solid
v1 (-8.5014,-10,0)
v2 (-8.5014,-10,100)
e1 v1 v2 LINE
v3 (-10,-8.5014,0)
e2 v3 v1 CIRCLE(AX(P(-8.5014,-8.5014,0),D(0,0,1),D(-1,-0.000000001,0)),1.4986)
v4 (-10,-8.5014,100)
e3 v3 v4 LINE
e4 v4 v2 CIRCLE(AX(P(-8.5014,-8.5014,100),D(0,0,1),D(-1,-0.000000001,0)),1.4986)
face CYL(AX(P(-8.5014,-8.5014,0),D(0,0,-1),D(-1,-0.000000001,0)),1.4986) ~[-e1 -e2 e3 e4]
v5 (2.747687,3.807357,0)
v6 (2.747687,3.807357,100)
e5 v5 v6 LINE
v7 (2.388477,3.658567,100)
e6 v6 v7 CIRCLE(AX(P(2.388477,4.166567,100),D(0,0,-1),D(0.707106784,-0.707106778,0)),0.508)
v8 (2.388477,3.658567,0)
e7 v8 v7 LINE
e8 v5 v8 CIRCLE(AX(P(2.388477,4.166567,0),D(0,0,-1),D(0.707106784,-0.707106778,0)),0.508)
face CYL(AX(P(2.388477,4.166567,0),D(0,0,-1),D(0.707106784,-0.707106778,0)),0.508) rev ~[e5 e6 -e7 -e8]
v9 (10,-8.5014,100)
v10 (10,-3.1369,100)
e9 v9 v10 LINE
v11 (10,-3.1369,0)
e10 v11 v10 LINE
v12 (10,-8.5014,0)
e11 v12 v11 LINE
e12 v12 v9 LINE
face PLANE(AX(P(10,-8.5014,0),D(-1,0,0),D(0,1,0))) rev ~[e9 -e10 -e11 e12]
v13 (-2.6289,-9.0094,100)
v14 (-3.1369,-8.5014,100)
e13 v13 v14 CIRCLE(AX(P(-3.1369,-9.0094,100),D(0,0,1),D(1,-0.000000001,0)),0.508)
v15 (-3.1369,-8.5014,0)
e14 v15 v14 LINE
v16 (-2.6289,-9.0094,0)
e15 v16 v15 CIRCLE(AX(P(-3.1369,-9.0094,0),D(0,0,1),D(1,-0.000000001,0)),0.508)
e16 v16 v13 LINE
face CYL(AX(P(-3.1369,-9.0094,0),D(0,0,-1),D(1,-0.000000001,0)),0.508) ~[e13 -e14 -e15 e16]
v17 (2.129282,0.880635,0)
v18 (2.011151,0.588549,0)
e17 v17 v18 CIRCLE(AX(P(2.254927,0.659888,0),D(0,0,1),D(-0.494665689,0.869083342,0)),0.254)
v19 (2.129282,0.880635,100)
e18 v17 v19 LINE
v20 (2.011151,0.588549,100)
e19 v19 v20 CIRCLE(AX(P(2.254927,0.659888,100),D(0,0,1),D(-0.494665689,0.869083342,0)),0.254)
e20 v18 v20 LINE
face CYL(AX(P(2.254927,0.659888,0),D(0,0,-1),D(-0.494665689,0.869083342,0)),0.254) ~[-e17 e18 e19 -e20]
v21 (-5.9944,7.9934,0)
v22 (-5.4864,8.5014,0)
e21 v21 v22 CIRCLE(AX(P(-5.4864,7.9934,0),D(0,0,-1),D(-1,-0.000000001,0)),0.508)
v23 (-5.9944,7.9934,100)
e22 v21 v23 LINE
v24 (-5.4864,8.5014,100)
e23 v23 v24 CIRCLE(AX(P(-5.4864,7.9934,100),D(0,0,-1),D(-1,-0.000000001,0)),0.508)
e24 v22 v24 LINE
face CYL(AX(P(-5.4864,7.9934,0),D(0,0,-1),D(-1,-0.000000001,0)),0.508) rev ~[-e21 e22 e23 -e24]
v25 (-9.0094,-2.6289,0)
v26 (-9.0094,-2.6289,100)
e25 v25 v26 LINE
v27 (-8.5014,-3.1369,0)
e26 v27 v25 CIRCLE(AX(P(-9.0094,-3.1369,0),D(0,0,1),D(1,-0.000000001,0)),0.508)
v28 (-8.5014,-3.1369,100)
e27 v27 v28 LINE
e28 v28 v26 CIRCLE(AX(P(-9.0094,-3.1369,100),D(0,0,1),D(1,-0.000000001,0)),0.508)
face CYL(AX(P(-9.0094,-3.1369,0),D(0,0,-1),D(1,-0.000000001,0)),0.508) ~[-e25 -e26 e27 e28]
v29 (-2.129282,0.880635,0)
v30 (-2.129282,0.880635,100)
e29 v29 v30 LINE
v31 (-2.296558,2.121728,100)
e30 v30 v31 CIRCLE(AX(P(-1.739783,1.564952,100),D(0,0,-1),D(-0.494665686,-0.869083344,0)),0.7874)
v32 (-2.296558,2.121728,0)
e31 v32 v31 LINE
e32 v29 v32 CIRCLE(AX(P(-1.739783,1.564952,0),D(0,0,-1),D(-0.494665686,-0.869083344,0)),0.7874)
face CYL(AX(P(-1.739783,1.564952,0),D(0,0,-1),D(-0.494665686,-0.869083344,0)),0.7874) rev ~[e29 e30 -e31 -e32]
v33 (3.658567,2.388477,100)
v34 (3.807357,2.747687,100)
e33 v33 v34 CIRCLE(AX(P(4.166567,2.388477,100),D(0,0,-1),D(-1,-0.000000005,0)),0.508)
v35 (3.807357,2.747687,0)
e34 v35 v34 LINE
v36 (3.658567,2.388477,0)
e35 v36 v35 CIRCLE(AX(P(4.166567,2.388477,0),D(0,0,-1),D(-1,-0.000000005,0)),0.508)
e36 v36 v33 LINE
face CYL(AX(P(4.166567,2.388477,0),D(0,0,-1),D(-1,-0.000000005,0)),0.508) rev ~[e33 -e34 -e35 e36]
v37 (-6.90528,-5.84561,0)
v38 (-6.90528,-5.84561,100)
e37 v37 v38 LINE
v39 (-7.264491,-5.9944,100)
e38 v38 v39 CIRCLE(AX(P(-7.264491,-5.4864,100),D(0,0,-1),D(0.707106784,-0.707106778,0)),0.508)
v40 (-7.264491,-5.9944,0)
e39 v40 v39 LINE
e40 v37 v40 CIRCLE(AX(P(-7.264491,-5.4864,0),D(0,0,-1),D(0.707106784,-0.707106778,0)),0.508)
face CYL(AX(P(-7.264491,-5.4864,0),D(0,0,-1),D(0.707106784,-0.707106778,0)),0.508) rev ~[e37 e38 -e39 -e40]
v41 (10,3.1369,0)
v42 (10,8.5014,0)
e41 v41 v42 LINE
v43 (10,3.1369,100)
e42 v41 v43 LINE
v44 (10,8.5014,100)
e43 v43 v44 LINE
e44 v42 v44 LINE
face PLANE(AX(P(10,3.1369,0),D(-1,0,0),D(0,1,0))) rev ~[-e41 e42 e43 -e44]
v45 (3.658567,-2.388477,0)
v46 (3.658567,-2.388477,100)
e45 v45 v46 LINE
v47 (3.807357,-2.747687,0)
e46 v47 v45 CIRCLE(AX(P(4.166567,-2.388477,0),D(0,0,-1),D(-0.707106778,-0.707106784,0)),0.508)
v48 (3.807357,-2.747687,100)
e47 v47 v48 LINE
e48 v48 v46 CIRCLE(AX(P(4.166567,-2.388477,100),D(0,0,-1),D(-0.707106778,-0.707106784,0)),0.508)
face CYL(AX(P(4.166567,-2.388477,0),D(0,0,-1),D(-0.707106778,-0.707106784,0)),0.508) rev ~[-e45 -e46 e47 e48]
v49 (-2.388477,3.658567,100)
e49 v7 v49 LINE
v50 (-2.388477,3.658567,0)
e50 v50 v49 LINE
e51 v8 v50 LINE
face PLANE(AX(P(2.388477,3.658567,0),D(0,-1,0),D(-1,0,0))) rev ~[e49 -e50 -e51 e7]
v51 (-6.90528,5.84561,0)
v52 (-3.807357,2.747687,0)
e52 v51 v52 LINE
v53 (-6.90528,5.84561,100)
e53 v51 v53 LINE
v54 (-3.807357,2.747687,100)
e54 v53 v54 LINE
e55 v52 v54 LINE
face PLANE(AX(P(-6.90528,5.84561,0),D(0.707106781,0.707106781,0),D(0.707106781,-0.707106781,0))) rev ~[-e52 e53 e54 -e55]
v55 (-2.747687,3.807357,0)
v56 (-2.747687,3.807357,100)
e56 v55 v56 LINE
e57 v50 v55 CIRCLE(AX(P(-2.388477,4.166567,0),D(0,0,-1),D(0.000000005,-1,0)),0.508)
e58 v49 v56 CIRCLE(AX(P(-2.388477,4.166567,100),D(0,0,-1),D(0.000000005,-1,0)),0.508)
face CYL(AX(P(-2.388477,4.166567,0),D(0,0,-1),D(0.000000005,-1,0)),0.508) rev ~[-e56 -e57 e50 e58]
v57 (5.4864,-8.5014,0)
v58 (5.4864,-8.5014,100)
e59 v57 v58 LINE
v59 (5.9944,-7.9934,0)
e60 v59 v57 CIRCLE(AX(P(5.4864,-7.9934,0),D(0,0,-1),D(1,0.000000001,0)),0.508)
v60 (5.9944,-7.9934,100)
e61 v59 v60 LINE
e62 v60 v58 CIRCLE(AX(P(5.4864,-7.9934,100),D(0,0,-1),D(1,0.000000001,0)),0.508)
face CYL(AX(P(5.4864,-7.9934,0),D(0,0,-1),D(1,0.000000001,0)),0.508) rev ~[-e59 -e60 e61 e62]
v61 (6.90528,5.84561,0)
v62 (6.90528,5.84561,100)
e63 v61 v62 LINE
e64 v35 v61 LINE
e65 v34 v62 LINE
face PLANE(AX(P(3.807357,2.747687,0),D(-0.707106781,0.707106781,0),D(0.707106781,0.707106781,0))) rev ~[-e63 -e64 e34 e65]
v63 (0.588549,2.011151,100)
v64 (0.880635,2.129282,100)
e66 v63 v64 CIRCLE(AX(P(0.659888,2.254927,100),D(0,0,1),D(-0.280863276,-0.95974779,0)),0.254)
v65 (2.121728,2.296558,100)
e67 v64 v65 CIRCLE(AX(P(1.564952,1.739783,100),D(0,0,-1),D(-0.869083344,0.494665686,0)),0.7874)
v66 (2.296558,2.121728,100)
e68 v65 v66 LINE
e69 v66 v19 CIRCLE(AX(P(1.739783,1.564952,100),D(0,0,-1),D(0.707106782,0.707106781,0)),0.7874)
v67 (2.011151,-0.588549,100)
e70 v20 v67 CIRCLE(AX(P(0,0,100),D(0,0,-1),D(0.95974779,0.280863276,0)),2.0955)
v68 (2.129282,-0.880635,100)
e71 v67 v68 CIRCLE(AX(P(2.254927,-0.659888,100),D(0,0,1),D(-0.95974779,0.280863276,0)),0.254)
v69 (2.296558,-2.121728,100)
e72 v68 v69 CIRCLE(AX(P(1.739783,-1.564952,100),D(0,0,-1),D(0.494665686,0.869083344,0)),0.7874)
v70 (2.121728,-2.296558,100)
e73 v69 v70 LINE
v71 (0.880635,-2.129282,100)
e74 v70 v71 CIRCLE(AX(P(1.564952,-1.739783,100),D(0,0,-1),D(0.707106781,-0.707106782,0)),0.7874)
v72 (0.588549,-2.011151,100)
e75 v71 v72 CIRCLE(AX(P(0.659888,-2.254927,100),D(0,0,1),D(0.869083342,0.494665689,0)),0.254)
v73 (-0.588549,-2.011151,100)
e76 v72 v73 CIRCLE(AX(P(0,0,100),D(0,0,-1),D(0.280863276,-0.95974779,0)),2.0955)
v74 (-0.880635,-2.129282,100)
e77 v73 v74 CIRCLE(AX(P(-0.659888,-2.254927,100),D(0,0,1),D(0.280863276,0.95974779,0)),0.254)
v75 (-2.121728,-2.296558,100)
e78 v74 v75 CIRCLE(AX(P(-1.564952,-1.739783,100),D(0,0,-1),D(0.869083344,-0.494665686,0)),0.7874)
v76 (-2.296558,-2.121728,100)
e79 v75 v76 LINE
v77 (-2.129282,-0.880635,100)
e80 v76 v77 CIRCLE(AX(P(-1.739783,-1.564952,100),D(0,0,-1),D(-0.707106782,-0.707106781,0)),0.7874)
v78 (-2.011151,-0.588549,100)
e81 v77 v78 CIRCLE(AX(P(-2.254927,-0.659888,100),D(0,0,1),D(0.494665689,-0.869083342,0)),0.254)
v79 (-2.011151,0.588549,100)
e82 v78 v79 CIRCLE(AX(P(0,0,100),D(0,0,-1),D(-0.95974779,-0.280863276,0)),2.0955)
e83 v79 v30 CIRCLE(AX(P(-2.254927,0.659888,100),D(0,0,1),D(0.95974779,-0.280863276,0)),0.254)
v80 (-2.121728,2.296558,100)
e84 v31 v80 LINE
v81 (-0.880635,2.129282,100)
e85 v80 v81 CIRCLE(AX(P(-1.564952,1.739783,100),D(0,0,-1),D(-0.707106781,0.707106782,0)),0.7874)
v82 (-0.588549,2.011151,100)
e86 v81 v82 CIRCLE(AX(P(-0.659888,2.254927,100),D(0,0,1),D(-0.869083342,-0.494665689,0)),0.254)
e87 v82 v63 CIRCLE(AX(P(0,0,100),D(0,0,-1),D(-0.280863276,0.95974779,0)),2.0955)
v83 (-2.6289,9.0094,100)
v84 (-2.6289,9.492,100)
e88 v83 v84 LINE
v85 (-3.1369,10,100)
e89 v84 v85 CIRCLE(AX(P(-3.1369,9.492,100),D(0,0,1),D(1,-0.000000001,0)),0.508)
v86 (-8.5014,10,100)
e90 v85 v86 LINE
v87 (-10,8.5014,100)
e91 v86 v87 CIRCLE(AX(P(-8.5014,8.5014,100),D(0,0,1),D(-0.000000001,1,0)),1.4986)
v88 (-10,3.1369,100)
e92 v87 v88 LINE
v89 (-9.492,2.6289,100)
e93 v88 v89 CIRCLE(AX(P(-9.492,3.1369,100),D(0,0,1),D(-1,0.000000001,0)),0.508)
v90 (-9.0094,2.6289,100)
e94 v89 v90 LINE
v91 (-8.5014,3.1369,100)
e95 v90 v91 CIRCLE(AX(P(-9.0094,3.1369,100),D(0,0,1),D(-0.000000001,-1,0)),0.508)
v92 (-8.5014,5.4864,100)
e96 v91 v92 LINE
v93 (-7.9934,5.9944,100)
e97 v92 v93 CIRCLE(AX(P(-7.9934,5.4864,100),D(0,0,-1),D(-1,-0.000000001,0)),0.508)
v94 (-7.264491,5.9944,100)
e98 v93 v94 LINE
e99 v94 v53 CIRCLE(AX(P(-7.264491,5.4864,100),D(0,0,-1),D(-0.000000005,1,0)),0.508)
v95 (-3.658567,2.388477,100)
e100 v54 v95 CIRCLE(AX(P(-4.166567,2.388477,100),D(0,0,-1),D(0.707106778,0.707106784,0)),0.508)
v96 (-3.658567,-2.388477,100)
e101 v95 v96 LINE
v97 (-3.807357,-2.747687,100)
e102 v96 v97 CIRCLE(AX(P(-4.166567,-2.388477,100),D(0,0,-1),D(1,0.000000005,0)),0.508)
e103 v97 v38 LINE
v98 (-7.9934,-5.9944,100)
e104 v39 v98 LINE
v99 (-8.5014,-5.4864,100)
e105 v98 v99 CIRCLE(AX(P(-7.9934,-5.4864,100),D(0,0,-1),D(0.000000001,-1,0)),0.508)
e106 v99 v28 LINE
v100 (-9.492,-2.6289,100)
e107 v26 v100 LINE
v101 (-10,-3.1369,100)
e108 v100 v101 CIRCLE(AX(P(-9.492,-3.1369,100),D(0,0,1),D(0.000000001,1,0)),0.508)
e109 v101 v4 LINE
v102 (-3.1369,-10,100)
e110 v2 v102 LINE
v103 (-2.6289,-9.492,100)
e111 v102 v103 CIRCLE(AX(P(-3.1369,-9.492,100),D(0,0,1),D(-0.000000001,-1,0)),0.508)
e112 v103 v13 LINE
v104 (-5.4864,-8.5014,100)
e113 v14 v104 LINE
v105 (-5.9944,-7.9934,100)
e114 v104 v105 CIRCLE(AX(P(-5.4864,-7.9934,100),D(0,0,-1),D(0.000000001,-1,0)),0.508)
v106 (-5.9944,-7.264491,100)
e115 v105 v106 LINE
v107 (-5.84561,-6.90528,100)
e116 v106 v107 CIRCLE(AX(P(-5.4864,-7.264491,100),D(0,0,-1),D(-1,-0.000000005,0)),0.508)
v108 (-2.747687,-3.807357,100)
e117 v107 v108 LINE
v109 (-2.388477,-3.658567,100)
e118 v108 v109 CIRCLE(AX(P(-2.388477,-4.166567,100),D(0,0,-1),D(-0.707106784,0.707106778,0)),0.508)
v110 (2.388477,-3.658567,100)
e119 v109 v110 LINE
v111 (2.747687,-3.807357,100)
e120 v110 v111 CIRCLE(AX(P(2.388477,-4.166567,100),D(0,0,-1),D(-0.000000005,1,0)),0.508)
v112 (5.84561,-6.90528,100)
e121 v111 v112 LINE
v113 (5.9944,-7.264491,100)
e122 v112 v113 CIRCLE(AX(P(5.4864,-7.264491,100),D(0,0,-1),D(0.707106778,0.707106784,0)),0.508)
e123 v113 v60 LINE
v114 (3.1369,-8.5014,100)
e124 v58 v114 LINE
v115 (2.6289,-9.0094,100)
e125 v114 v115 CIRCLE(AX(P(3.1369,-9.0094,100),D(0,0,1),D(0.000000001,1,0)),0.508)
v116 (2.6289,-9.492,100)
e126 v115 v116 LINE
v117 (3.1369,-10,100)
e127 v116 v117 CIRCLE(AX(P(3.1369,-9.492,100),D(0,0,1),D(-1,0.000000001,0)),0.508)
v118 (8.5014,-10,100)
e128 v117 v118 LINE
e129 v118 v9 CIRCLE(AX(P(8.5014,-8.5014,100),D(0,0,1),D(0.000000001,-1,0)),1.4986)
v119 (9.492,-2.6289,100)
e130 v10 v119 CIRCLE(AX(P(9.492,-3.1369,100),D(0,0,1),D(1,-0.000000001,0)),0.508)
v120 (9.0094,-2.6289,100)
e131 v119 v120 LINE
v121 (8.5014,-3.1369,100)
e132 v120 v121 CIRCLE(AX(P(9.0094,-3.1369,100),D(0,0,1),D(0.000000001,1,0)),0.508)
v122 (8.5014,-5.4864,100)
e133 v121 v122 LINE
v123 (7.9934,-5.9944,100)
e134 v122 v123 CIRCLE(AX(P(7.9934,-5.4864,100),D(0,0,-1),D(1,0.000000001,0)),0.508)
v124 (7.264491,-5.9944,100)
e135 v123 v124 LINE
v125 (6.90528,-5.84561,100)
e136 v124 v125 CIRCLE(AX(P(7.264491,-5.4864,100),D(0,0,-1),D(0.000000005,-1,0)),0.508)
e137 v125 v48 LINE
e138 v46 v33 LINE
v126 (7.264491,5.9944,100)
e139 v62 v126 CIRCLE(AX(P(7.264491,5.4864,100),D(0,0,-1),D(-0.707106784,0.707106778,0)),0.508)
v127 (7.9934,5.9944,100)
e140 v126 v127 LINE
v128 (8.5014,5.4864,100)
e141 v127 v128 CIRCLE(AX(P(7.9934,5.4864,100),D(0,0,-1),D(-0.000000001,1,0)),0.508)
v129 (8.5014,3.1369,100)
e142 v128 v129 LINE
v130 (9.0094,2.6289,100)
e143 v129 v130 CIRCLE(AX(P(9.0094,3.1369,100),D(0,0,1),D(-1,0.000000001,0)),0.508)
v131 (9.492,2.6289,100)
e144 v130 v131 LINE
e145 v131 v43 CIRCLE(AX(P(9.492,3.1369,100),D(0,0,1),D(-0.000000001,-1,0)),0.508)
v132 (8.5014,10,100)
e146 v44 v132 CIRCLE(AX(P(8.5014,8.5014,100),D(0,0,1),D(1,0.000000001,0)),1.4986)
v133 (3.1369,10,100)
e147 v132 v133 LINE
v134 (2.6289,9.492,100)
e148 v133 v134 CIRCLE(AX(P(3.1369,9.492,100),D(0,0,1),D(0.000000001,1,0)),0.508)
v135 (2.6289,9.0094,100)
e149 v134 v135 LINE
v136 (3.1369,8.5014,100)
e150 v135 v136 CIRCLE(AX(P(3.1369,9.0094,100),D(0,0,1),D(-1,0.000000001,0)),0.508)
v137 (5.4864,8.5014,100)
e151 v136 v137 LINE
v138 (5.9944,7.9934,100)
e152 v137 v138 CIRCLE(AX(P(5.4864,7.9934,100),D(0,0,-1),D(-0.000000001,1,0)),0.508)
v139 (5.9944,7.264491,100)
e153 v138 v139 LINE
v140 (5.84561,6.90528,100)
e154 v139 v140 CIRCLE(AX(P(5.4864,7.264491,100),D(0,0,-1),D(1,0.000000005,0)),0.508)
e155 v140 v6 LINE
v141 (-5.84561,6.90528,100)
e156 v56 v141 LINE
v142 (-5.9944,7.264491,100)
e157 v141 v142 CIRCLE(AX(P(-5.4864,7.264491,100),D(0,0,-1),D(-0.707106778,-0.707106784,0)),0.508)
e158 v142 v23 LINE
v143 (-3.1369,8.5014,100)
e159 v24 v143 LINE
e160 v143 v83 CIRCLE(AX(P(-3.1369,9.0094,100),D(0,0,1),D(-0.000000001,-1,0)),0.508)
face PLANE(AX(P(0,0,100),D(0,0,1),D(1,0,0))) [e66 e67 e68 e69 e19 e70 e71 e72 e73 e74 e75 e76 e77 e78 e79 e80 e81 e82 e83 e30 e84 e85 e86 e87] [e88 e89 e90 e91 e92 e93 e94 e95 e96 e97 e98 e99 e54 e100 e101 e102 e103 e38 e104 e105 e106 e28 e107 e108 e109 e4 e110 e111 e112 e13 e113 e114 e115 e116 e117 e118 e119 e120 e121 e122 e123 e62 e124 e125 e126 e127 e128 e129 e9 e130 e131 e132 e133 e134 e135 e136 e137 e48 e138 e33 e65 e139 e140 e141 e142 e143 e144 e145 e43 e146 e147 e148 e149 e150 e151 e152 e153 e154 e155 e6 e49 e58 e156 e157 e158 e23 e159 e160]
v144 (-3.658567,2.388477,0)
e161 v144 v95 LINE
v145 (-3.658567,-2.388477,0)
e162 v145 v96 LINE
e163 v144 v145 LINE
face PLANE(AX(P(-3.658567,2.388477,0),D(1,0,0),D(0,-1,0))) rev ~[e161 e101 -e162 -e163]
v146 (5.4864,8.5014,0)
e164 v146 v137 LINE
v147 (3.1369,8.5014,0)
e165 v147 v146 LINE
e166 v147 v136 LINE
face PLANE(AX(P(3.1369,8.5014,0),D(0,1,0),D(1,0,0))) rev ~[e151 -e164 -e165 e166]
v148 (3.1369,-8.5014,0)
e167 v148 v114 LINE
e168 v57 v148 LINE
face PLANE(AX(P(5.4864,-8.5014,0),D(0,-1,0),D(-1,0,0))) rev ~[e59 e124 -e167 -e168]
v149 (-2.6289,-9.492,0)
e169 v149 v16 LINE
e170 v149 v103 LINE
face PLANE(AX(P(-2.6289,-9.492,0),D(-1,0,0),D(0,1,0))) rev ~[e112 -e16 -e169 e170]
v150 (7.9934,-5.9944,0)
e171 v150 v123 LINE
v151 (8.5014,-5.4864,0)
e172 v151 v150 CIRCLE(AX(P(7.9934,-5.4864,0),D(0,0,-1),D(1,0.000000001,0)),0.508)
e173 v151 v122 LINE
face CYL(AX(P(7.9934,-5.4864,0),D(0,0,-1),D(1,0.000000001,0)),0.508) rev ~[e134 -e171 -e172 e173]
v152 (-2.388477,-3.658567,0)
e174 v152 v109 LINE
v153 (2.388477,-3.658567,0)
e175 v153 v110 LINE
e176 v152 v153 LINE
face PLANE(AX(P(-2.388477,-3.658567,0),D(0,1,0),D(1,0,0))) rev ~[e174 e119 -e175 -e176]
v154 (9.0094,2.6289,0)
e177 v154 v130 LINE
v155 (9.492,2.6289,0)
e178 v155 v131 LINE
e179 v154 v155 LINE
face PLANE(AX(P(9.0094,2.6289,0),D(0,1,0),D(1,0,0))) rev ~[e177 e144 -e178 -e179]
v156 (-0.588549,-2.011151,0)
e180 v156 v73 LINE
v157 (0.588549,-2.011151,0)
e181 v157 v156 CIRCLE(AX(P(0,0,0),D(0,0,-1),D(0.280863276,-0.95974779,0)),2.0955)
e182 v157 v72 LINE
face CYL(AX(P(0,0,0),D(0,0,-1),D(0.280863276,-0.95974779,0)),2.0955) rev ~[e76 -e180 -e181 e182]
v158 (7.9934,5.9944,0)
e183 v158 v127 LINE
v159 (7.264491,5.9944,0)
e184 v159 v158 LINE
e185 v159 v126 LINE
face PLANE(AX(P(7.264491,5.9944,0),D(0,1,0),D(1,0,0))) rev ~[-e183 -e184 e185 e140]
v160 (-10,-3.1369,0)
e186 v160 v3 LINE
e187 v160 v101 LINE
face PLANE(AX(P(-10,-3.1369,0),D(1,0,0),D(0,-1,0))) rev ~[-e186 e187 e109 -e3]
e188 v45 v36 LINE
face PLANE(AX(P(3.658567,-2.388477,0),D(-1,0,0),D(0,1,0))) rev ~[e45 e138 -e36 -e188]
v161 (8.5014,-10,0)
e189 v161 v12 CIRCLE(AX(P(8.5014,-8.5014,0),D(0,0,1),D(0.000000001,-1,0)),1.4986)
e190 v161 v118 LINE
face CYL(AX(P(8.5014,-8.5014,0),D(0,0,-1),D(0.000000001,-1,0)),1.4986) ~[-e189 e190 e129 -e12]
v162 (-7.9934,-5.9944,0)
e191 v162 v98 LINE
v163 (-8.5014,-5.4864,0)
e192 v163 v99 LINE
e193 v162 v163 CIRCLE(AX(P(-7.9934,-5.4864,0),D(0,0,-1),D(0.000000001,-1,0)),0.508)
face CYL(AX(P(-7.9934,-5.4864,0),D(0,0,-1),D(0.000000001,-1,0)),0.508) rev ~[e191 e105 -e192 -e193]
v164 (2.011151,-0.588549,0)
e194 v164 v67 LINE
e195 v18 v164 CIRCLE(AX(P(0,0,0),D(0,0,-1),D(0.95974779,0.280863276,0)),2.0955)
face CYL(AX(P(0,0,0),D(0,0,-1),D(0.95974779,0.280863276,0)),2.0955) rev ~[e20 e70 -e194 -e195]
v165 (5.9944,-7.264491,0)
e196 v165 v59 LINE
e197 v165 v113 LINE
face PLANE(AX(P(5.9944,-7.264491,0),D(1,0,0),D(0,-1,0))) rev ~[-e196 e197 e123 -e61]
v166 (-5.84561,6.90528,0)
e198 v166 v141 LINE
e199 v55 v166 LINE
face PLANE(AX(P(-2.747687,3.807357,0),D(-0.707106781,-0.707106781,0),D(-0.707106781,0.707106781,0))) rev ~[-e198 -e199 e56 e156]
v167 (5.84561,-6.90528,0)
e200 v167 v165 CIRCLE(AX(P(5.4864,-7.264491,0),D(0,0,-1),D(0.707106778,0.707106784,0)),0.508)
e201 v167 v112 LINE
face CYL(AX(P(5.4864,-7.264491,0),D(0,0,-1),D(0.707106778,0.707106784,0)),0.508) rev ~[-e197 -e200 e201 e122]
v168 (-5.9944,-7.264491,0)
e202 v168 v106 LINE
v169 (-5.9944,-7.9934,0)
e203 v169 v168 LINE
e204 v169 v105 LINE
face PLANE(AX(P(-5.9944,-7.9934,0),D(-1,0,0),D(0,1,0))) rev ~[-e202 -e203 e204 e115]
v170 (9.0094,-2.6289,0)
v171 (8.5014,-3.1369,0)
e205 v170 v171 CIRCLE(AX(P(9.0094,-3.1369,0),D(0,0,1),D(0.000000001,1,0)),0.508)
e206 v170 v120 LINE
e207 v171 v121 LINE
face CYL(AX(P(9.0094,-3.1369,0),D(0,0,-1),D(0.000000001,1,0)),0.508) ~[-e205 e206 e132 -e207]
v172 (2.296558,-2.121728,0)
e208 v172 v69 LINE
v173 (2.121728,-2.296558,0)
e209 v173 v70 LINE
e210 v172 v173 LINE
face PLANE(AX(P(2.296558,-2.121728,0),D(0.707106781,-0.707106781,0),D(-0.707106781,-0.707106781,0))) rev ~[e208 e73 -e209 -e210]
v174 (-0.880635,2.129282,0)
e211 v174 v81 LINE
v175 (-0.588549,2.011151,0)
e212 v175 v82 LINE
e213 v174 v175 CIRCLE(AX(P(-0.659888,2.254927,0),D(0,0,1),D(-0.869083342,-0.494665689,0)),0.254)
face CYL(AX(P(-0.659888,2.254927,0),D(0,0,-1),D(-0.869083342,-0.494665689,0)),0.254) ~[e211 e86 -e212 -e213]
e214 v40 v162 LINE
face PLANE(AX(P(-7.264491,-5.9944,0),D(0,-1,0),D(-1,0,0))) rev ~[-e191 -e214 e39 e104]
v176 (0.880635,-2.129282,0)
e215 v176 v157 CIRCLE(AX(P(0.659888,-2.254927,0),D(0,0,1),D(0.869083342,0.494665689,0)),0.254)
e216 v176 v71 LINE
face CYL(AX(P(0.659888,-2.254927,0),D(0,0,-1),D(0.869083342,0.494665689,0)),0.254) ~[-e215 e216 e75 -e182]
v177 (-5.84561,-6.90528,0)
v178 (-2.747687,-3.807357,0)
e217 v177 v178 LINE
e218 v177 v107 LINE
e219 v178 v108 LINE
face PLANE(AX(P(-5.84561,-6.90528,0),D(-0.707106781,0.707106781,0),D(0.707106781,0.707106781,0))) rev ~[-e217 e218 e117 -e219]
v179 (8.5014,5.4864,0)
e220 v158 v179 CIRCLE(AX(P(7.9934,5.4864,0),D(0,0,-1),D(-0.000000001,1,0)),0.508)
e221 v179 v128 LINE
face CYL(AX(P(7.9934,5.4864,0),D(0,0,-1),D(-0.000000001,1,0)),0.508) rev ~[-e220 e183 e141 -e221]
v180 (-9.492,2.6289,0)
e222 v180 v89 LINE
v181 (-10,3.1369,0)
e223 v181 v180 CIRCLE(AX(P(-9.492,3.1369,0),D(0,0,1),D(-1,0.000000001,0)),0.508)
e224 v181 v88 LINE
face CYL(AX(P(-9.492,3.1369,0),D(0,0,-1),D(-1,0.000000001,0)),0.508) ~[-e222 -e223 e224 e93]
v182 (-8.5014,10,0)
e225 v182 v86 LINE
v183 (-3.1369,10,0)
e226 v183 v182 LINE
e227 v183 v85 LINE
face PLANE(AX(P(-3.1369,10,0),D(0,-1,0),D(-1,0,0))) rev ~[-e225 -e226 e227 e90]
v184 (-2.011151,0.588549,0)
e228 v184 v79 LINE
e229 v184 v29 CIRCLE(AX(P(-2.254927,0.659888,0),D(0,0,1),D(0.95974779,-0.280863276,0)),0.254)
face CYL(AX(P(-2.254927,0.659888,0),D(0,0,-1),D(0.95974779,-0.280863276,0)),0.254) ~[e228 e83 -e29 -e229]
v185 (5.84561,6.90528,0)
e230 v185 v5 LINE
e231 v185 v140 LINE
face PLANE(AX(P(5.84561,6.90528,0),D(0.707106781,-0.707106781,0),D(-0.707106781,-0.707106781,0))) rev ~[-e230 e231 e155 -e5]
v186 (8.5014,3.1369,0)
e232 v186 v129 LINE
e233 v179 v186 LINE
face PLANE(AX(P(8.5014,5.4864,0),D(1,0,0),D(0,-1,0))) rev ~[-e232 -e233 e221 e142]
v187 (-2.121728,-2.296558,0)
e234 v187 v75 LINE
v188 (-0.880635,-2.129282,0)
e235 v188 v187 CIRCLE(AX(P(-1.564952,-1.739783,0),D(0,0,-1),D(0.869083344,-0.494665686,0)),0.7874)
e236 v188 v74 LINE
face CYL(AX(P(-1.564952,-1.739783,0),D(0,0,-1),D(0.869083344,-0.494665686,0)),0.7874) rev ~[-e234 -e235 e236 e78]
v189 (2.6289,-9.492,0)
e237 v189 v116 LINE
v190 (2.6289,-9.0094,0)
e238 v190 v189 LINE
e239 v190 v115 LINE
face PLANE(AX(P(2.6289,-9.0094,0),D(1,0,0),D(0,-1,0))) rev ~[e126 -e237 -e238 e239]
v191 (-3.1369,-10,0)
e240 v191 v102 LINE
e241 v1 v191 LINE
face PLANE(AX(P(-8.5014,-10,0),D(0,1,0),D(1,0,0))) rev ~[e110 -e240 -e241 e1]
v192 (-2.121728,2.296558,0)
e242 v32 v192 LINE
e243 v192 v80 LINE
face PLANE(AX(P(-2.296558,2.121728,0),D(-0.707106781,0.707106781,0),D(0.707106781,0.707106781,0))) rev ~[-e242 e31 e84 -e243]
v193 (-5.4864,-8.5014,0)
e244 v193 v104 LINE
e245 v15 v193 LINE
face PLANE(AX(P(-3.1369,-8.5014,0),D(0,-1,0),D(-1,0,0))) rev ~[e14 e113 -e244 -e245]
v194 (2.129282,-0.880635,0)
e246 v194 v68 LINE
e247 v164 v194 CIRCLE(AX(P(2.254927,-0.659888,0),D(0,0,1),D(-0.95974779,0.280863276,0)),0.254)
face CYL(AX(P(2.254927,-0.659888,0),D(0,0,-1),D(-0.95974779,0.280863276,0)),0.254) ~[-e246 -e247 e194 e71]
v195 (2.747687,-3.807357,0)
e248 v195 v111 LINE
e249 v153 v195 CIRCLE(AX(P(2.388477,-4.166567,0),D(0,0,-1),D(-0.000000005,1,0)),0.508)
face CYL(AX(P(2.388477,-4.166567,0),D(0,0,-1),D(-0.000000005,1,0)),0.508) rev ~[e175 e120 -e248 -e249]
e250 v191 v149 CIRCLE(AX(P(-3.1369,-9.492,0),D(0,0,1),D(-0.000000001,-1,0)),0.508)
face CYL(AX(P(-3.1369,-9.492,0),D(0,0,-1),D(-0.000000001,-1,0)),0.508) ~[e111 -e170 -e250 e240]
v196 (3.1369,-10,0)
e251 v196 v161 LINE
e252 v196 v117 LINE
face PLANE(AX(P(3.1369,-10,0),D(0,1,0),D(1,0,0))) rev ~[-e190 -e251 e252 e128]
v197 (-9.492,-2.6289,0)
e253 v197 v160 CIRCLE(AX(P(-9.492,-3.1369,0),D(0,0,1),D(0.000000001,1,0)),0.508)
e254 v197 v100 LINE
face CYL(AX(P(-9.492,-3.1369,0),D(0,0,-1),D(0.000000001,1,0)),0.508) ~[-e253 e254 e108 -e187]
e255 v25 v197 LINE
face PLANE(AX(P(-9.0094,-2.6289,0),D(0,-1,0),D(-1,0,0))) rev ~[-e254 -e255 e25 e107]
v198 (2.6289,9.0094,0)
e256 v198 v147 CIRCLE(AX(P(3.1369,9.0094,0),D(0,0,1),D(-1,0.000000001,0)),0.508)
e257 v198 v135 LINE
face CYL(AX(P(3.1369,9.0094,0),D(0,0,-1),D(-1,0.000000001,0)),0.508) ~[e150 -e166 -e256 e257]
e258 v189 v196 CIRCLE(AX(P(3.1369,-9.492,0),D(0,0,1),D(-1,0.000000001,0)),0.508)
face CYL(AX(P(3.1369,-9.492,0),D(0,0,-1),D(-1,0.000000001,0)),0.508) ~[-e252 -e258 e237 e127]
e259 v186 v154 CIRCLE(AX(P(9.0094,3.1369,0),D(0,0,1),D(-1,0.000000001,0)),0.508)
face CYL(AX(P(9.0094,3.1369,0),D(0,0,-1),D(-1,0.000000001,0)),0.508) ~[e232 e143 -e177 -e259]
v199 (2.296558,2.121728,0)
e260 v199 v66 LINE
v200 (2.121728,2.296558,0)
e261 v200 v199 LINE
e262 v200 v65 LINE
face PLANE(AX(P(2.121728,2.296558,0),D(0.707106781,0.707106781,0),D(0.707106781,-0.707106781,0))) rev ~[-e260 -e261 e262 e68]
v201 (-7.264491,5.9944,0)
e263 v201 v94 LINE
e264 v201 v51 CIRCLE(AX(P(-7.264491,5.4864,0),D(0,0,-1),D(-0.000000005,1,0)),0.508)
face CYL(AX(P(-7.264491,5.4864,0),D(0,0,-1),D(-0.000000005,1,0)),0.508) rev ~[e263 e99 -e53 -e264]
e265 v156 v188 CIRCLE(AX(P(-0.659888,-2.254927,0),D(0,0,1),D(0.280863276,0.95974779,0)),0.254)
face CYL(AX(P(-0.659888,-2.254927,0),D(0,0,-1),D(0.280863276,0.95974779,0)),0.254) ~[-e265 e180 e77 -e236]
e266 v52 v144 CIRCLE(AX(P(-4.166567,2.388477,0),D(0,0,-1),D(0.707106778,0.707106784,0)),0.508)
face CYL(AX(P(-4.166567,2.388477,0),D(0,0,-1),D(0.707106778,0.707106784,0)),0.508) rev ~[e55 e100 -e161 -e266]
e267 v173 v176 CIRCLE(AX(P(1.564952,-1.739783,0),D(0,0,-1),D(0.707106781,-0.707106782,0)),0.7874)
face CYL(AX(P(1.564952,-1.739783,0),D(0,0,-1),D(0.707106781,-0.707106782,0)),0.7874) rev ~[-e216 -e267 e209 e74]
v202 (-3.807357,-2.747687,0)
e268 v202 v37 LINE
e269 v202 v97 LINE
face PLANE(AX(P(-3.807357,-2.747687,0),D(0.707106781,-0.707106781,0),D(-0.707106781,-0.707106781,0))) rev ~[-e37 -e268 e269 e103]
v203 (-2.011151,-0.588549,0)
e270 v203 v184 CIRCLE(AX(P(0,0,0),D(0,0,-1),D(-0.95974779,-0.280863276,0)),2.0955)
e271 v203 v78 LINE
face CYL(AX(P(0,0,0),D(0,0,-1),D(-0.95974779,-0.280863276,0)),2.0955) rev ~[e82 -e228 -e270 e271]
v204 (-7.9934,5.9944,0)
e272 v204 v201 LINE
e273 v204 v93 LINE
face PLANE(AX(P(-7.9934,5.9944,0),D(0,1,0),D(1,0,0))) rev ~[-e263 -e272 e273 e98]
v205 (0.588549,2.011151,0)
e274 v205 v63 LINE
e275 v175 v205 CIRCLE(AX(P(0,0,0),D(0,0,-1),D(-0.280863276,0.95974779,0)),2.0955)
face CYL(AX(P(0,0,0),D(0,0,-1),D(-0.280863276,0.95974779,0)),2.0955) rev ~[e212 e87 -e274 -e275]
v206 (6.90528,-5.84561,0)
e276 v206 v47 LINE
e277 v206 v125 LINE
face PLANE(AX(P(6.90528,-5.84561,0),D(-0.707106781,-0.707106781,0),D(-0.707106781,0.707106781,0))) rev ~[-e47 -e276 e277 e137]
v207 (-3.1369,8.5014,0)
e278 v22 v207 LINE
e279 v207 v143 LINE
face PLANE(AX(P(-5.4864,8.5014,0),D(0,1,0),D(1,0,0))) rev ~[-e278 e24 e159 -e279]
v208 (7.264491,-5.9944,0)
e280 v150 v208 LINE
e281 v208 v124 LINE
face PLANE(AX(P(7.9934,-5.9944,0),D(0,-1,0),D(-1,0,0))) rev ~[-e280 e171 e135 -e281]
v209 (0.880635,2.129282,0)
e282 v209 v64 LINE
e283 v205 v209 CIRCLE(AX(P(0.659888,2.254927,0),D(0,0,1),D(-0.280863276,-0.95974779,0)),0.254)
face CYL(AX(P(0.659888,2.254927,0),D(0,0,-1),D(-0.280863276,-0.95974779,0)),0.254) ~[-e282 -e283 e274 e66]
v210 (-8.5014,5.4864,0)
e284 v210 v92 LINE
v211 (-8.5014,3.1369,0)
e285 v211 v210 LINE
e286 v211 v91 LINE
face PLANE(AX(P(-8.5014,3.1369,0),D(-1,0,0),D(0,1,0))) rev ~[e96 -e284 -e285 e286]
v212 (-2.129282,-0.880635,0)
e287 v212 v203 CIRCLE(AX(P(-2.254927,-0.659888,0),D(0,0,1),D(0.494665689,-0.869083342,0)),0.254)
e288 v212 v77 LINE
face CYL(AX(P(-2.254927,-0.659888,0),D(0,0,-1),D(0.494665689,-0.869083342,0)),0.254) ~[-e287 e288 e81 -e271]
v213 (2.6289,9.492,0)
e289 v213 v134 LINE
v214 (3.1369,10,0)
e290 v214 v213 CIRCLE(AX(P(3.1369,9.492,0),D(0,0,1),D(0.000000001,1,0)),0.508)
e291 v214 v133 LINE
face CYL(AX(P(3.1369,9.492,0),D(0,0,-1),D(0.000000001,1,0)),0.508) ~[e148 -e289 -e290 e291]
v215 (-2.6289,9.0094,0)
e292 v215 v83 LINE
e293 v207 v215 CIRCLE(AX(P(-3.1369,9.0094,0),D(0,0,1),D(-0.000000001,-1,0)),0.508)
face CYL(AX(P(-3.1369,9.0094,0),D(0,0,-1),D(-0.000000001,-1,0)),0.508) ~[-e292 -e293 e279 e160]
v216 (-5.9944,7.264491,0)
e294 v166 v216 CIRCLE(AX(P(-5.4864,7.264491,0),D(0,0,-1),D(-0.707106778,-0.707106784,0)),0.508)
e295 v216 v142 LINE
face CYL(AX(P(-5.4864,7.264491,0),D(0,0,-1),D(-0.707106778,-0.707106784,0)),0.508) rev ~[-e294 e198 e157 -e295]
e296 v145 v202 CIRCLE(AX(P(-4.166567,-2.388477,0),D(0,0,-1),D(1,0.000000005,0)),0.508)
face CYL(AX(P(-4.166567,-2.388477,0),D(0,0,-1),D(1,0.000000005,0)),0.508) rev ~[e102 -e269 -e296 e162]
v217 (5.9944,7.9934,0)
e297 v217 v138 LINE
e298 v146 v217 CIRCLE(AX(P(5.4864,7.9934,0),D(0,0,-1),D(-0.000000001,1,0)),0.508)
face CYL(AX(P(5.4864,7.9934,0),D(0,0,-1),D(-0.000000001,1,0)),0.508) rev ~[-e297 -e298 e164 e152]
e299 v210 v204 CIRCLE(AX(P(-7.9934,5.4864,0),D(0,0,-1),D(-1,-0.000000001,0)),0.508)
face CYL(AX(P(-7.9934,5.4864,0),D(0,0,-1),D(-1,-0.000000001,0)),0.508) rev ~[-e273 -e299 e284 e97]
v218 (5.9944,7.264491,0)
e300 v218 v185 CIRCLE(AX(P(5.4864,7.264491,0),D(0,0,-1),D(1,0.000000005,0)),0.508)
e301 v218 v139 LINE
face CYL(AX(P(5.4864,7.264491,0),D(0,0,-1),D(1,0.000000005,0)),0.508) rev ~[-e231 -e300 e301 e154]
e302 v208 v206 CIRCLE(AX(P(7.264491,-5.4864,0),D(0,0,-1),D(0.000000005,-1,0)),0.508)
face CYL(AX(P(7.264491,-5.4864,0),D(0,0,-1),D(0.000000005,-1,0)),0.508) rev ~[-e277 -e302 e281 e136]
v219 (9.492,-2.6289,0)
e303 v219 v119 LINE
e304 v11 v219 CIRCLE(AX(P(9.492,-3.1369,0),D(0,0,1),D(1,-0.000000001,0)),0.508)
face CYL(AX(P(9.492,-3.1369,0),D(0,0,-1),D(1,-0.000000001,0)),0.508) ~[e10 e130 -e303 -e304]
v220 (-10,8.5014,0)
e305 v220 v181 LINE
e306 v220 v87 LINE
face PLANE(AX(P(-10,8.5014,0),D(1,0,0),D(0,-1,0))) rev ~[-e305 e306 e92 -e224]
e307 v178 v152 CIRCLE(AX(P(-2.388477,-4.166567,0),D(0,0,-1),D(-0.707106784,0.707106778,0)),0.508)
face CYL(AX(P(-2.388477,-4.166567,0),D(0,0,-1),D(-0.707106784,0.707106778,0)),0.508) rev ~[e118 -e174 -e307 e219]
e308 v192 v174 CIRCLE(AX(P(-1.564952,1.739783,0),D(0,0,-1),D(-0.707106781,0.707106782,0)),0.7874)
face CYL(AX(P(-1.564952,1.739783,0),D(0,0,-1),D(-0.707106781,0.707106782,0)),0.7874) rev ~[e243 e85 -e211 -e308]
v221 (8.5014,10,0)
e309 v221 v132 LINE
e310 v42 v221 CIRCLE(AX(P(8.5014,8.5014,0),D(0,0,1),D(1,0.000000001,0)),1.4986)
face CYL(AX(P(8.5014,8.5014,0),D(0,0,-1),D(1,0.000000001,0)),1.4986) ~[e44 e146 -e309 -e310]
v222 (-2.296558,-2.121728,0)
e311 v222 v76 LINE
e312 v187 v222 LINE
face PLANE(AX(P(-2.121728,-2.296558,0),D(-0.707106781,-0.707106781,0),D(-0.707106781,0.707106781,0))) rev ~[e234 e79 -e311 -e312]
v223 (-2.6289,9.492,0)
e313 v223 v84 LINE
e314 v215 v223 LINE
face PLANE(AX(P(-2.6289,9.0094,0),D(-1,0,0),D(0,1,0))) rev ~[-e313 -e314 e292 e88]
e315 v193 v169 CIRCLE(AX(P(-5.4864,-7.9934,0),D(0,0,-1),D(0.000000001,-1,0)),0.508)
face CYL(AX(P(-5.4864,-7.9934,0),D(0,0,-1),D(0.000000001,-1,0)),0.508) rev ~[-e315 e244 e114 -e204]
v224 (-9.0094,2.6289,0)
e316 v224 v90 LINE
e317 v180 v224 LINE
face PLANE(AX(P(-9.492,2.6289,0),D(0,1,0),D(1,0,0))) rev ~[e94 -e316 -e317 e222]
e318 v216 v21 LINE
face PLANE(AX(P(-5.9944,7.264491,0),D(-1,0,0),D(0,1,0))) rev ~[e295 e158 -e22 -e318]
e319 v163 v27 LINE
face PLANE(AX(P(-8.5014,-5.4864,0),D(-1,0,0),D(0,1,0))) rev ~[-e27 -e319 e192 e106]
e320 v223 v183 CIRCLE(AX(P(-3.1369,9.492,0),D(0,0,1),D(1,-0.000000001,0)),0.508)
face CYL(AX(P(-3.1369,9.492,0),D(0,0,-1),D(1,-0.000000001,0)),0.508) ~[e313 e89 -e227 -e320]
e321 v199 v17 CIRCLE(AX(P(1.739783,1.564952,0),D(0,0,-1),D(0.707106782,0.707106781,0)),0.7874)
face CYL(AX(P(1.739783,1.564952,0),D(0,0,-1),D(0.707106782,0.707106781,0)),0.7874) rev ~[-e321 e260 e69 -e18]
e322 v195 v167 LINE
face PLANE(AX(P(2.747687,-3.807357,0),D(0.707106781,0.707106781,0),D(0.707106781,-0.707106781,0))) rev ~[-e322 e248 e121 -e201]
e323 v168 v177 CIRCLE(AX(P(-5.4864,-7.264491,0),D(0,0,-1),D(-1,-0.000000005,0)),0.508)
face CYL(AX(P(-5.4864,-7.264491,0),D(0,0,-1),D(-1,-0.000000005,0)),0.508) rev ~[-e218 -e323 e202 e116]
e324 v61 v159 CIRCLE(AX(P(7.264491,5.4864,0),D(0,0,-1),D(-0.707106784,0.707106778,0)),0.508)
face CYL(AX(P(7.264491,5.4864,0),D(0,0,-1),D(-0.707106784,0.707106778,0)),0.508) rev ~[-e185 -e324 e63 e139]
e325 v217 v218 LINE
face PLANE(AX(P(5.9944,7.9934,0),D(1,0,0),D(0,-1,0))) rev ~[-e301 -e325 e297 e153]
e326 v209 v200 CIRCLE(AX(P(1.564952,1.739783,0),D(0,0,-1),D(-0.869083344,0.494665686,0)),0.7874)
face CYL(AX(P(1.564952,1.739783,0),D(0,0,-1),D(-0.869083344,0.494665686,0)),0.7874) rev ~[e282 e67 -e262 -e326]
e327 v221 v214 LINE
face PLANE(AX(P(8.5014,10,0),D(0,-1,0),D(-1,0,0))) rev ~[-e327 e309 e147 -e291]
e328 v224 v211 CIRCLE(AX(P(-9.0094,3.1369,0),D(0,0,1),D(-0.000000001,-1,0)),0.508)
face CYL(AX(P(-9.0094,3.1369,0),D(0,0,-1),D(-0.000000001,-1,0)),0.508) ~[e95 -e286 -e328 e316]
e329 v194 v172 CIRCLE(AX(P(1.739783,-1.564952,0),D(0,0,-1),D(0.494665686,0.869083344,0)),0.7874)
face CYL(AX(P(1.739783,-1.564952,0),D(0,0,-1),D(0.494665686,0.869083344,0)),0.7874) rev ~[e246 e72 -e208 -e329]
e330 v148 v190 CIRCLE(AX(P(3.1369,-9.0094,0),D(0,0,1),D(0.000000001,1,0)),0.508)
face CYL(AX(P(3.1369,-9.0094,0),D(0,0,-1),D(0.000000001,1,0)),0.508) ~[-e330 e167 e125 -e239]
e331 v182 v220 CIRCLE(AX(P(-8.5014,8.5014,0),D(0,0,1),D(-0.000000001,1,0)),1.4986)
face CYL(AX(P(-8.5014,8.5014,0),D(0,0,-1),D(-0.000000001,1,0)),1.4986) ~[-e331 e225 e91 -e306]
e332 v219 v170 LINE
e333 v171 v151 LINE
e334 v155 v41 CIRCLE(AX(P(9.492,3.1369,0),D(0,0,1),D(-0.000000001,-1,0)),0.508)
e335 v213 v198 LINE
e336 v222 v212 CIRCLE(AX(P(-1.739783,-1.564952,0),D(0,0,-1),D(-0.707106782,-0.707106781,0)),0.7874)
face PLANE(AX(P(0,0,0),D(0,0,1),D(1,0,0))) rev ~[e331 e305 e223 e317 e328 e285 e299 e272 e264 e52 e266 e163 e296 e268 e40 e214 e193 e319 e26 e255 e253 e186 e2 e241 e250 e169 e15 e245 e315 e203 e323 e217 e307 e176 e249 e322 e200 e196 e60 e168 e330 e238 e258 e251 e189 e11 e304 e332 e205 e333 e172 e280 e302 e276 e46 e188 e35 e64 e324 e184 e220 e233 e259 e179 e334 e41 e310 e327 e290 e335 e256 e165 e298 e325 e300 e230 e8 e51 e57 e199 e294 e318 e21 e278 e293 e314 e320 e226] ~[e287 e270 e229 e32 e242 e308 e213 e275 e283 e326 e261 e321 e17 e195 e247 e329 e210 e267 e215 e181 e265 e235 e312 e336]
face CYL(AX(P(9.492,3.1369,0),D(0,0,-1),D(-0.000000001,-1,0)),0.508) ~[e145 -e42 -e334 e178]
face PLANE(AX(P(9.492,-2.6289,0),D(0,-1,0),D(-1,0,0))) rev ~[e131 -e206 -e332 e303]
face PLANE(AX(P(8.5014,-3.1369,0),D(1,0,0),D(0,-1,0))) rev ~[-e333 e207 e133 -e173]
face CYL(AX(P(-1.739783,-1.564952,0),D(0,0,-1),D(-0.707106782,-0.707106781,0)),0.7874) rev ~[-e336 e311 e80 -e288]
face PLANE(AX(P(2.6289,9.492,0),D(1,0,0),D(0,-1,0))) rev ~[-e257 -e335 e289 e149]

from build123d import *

# Parameters (mm, degrees)
BOSS_EXTRUDE1_DEPTH = 100


with BuildPart() as part:
    # Sketch1 → Boss-Extrude1 (new body)
    with BuildSketch(Plane.XY):
        with BuildLine():
            Line((9.0094, 2.6289), (9.492, 2.6289))
            ThreePointArc((9.492, 2.6289), (9.851210245, 2.777689755), (10, 3.1369))
            Line((10, 3.1369), (10, 8.5014))
            ThreePointArc((10, 8.5014), (9.561070222, 9.561070222), (8.5014, 10))
            Line((8.5014, 10), (3.1369, 10))
            ThreePointArc((3.1369, 10), (2.777689755, 9.851210245), (2.6289, 9.492))
            Line((2.6289, 9.492), (2.6289, 9.0094))
            ThreePointArc((2.6289, 9.0094), (2.777689755, 8.650189755), (3.1369, 8.5014))
            Line((3.1369, 8.5014), (5.4864, 8.5014))
            ThreePointArc((5.4864, 8.5014), (5.845610245, 8.352610245), (5.9944, 7.9934))
            Line((5.9944, 7.9934), (5.9944, 7.264490712))
            ThreePointArc((5.9944, 7.264490712), (5.955730803, 7.070087528), (5.845610245, 6.905280467))
            Line((5.845610245, 6.905280467), (2.747686782, 3.807357004))
            ThreePointArc((2.747686782, 3.807357004), (2.582879721, 3.697236446), (2.388476537, 3.658567249))
            Line((2.388476537, 3.658567249), (-2.388476537, 3.658567249))
            ThreePointArc((-2.388476537, 3.658567249), (-2.582879721, 3.697236446), (-2.747686782, 3.807357004))
            Line((-2.747686782, 3.807357004), (-5.845610245, 6.905280467))
            ThreePointArc((-5.845610245, 6.905280467), (-5.955730803, 7.070087528), (-5.9944, 7.264490712))
            Line((-5.9944, 7.264490712), (-5.9944, 7.9934))
            ThreePointArc((-5.9944, 7.9934), (-5.845610245, 8.352610245), (-5.4864, 8.5014))
            Line((-5.4864, 8.5014), (-3.1369, 8.5014))
            ThreePointArc((-3.1369, 8.5014), (-2.777689755, 8.650189755), (-2.6289, 9.0094))
            Line((-2.6289, 9.0094), (-2.6289, 9.492))
            ThreePointArc((-2.6289, 9.492), (-2.777689755, 9.851210245), (-3.1369, 10))
            Line((-3.1369, 10), (-8.5014, 10))
            ThreePointArc((-8.5014, 10), (-9.561070222, 9.561070222), (-10, 8.5014))
            Line((-10, 8.5014), (-10, 3.1369))
            ThreePointArc((-10, 3.1369), (-9.851210245, 2.777689755), (-9.492, 2.6289))
            Line((-9.492, 2.6289), (-9.0094, 2.6289))
            ThreePointArc((-9.0094, 2.6289), (-8.650189755, 2.777689755), (-8.5014, 3.1369))
            Line((-8.5014, 3.1369), (-8.5014, 5.4864))
            ThreePointArc((-8.5014, 5.4864), (-8.352610245, 5.845610245), (-7.9934, 5.9944))
            Line((-7.9934, 5.9944), (-7.264490712, 5.9944))
            ThreePointArc((-7.264490712, 5.9944), (-7.070087528, 5.955730803), (-6.905280467, 5.845610245))
            Line((-6.905280467, 5.845610245), (-3.807357004, 2.747686782))
            ThreePointArc((-3.807357004, 2.747686782), (-3.697236446, 2.582879721), (-3.658567249, 2.388476537))
            Line((-3.658567249, 2.388476537), (-3.658567249, -2.388476537))
            ThreePointArc((-3.658567249, -2.388476537), (-3.697236446, -2.582879721), (-3.807357004, -2.747686782))
            Line((-3.807357004, -2.747686782), (-6.905280467, -5.845610245))
            ThreePointArc((-6.905280467, -5.845610245), (-7.070087528, -5.955730803), (-7.264490712, -5.9944))
            Line((-7.264490712, -5.9944), (-7.9934, -5.9944))
            ThreePointArc((-7.9934, -5.9944), (-8.352610245, -5.845610245), (-8.5014, -5.4864))
            Line((-8.5014, -5.4864), (-8.5014, -3.1369))
            ThreePointArc((-8.5014, -3.1369), (-8.650189755, -2.777689755), (-9.0094, -2.6289))
            Line((-9.0094, -2.6289), (-9.492, -2.6289))
            ThreePointArc((-9.492, -2.6289), (-9.851210245, -2.777689755), (-10, -3.1369))
            Line((-10, -3.1369), (-10, -8.5014))
            ThreePointArc((-10, -8.5014), (-9.561070222, -9.561070222), (-8.5014, -10))
            Line((-8.5014, -10), (-3.1369, -10))
            ThreePointArc((-3.1369, -10), (-2.777689755, -9.851210245), (-2.6289, -9.492))
            Line((-2.6289, -9.492), (-2.6289, -9.0094))
            ThreePointArc((-2.6289, -9.0094), (-2.777689755, -8.650189755), (-3.1369, -8.5014))
            Line((-3.1369, -8.5014), (-5.4864, -8.5014))
            ThreePointArc((-5.4864, -8.5014), (-5.845610245, -8.352610245), (-5.9944, -7.9934))
            Line((-5.9944, -7.9934), (-5.9944, -7.264490712))
            ThreePointArc((-5.9944, -7.264490712), (-5.955730803, -7.070087528), (-5.845610245, -6.905280467))
            Line((-5.845610245, -6.905280467), (-2.747686782, -3.807357004))
            ThreePointArc((-2.747686782, -3.807357004), (-2.582879721, -3.697236446), (-2.388476537, -3.658567249))
            Line((-2.388476537, -3.658567249), (2.388476537, -3.658567249))
            ThreePointArc((2.388476537, -3.658567249), (2.582879721, -3.697236446), (2.747686782, -3.807357004))
            Line((2.747686782, -3.807357004), (5.845610245, -6.905280467))
            ThreePointArc((5.845610245, -6.905280467), (5.955730803, -7.070087528), (5.9944, -7.264490712))
            Line((5.9944, -7.264490712), (5.9944, -7.9934))
            ThreePointArc((5.9944, -7.9934), (5.845610245, -8.352610245), (5.4864, -8.5014))
            Line((5.4864, -8.5014), (3.1369, -8.5014))
            ThreePointArc((3.1369, -8.5014), (2.777689755, -8.650189755), (2.6289, -9.0094))
            Line((2.6289, -9.0094), (2.6289, -9.492))
            ThreePointArc((2.6289, -9.492), (2.777689755, -9.851210245), (3.1369, -10))
            Line((3.1369, -10), (8.5014, -10))
            ThreePointArc((8.5014, -10), (9.561070222, -9.561070222), (10, -8.5014))
            Line((10, -8.5014), (10, -3.1369))
            ThreePointArc((10, -3.1369), (9.851210245, -2.777689755), (9.492, -2.6289))
            Line((9.492, -2.6289), (9.0094, -2.6289))
            ThreePointArc((9.0094, -2.6289), (8.650189755, -2.777689755), (8.5014, -3.1369))
            Line((8.5014, -3.1369), (8.5014, -5.4864))
            ThreePointArc((8.5014, -5.4864), (8.352610245, -5.845610245), (7.9934, -5.9944))
            Line((7.9934, -5.9944), (7.264490712, -5.9944))
            ThreePointArc((7.264490712, -5.9944), (7.070087528, -5.955730803), (6.905280467, -5.845610245))
            Line((6.905280467, -5.845610245), (3.807357004, -2.747686782))
            ThreePointArc((3.807357004, -2.747686782), (3.697236446, -2.582879721), (3.658567249, -2.388476537))
            Line((3.658567249, -2.388476537), (3.658567249, 2.388476537))
            ThreePointArc((3.658567249, 2.388476537), (3.697236446, 2.582879721), (3.807357004, 2.747686782))
            Line((3.807357004, 2.747686782), (6.905280467, 5.845610245))
            ThreePointArc((6.905280467, 5.845610245), (7.070087528, 5.955730803), (7.264490712, 5.9944))
            Line((7.264490712, 5.9944), (7.9934, 5.9944))
            ThreePointArc((7.9934, 5.9944), (8.352610245, 5.845610245), (8.5014, 5.4864))
            Line((8.5014, 5.4864), (8.5014, 3.1369))
            ThreePointArc((8.5014, 3.1369), (8.650189755, 2.777689755), (9.0094, 2.6289))
        make_face()
        with BuildLine():
            Line((-2.296558466, 2.121727546), (-2.121727546, 2.296558466))
            ThreePointArc((-2.121727546, 2.296558466), (-1.459775814, 2.520126613), (-0.880635441, 2.129282347))
            ThreePointArc((-0.880635441, 2.129282347), (-0.755121693, 2.019456424), (-0.588548999, 2.011151493))
            ThreePointArc((-0.588548999, 2.011151493), (0, 2.0955), (0.588548999, 2.011151493))
            ThreePointArc((0.588548999, 2.011151493), (0.755121693, 2.019456424), (0.880635441, 2.129282347))
            ThreePointArc((0.880635441, 2.129282347), (1.459775814, 2.520126613), (2.121727546, 2.296558466))
            Line((2.121727546, 2.296558466), (2.296558466, 2.121727546))
            ThreePointArc((2.296558466, 2.121727546), (2.520126613, 1.459775814), (2.129282347, 0.880635441))
            ThreePointArc((2.129282347, 0.880635441), (2.019456424, 0.755121693), (2.011151493, 0.588548999))
            ThreePointArc((2.011151493, 0.588548999), (2.0955, 0), (2.011151493, -0.588548999))
            ThreePointArc((2.011151493, -0.588548999), (2.019456424, -0.755121693), (2.129282347, -0.880635441))
            ThreePointArc((2.129282347, -0.880635441), (2.520126613, -1.459775814), (2.296558466, -2.121727546))
            Line((2.296558466, -2.121727546), (2.121727546, -2.296558466))
            ThreePointArc((2.121727546, -2.296558466), (1.459775814, -2.520126613), (0.880635441, -2.129282347))
            ThreePointArc((0.880635441, -2.129282347), (0.755121693, -2.019456424), (0.588548999, -2.011151493))
            ThreePointArc((0.588548999, -2.011151493), (0, -2.0955), (-0.588548999, -2.011151493))
            ThreePointArc((-0.588548999, -2.011151493), (-0.755121693, -2.019456424), (-0.880635441, -2.129282347))
            ThreePointArc((-0.880635441, -2.129282347), (-1.459775814, -2.520126613), (-2.121727546, -2.296558466))
            Line((-2.121727546, -2.296558466), (-2.296558466, -2.121727546))
            ThreePointArc((-2.296558466, -2.121727546), (-2.520126613, -1.459775814), (-2.129282347, -0.880635441))
            ThreePointArc((-2.129282347, -0.880635441), (-2.019456424, -0.755121693), (-2.011151493, -0.588548999))
            ThreePointArc((-2.011151493, -0.588548999), (-2.0955, 0), (-2.011151493, 0.588548999))
            ThreePointArc((-2.011151493, 0.588548999), (-2.019456424, 0.755121693), (-2.129282347, 0.880635441))
            ThreePointArc((-2.129282347, 0.880635441), (-2.520126613, 1.459775814), (-2.296558466, 2.121727546))
        make_face(mode=Mode.SUBTRACT)
    extrude(amount=BOSS_EXTRUDE1_DEPTH)


solid = part.part
